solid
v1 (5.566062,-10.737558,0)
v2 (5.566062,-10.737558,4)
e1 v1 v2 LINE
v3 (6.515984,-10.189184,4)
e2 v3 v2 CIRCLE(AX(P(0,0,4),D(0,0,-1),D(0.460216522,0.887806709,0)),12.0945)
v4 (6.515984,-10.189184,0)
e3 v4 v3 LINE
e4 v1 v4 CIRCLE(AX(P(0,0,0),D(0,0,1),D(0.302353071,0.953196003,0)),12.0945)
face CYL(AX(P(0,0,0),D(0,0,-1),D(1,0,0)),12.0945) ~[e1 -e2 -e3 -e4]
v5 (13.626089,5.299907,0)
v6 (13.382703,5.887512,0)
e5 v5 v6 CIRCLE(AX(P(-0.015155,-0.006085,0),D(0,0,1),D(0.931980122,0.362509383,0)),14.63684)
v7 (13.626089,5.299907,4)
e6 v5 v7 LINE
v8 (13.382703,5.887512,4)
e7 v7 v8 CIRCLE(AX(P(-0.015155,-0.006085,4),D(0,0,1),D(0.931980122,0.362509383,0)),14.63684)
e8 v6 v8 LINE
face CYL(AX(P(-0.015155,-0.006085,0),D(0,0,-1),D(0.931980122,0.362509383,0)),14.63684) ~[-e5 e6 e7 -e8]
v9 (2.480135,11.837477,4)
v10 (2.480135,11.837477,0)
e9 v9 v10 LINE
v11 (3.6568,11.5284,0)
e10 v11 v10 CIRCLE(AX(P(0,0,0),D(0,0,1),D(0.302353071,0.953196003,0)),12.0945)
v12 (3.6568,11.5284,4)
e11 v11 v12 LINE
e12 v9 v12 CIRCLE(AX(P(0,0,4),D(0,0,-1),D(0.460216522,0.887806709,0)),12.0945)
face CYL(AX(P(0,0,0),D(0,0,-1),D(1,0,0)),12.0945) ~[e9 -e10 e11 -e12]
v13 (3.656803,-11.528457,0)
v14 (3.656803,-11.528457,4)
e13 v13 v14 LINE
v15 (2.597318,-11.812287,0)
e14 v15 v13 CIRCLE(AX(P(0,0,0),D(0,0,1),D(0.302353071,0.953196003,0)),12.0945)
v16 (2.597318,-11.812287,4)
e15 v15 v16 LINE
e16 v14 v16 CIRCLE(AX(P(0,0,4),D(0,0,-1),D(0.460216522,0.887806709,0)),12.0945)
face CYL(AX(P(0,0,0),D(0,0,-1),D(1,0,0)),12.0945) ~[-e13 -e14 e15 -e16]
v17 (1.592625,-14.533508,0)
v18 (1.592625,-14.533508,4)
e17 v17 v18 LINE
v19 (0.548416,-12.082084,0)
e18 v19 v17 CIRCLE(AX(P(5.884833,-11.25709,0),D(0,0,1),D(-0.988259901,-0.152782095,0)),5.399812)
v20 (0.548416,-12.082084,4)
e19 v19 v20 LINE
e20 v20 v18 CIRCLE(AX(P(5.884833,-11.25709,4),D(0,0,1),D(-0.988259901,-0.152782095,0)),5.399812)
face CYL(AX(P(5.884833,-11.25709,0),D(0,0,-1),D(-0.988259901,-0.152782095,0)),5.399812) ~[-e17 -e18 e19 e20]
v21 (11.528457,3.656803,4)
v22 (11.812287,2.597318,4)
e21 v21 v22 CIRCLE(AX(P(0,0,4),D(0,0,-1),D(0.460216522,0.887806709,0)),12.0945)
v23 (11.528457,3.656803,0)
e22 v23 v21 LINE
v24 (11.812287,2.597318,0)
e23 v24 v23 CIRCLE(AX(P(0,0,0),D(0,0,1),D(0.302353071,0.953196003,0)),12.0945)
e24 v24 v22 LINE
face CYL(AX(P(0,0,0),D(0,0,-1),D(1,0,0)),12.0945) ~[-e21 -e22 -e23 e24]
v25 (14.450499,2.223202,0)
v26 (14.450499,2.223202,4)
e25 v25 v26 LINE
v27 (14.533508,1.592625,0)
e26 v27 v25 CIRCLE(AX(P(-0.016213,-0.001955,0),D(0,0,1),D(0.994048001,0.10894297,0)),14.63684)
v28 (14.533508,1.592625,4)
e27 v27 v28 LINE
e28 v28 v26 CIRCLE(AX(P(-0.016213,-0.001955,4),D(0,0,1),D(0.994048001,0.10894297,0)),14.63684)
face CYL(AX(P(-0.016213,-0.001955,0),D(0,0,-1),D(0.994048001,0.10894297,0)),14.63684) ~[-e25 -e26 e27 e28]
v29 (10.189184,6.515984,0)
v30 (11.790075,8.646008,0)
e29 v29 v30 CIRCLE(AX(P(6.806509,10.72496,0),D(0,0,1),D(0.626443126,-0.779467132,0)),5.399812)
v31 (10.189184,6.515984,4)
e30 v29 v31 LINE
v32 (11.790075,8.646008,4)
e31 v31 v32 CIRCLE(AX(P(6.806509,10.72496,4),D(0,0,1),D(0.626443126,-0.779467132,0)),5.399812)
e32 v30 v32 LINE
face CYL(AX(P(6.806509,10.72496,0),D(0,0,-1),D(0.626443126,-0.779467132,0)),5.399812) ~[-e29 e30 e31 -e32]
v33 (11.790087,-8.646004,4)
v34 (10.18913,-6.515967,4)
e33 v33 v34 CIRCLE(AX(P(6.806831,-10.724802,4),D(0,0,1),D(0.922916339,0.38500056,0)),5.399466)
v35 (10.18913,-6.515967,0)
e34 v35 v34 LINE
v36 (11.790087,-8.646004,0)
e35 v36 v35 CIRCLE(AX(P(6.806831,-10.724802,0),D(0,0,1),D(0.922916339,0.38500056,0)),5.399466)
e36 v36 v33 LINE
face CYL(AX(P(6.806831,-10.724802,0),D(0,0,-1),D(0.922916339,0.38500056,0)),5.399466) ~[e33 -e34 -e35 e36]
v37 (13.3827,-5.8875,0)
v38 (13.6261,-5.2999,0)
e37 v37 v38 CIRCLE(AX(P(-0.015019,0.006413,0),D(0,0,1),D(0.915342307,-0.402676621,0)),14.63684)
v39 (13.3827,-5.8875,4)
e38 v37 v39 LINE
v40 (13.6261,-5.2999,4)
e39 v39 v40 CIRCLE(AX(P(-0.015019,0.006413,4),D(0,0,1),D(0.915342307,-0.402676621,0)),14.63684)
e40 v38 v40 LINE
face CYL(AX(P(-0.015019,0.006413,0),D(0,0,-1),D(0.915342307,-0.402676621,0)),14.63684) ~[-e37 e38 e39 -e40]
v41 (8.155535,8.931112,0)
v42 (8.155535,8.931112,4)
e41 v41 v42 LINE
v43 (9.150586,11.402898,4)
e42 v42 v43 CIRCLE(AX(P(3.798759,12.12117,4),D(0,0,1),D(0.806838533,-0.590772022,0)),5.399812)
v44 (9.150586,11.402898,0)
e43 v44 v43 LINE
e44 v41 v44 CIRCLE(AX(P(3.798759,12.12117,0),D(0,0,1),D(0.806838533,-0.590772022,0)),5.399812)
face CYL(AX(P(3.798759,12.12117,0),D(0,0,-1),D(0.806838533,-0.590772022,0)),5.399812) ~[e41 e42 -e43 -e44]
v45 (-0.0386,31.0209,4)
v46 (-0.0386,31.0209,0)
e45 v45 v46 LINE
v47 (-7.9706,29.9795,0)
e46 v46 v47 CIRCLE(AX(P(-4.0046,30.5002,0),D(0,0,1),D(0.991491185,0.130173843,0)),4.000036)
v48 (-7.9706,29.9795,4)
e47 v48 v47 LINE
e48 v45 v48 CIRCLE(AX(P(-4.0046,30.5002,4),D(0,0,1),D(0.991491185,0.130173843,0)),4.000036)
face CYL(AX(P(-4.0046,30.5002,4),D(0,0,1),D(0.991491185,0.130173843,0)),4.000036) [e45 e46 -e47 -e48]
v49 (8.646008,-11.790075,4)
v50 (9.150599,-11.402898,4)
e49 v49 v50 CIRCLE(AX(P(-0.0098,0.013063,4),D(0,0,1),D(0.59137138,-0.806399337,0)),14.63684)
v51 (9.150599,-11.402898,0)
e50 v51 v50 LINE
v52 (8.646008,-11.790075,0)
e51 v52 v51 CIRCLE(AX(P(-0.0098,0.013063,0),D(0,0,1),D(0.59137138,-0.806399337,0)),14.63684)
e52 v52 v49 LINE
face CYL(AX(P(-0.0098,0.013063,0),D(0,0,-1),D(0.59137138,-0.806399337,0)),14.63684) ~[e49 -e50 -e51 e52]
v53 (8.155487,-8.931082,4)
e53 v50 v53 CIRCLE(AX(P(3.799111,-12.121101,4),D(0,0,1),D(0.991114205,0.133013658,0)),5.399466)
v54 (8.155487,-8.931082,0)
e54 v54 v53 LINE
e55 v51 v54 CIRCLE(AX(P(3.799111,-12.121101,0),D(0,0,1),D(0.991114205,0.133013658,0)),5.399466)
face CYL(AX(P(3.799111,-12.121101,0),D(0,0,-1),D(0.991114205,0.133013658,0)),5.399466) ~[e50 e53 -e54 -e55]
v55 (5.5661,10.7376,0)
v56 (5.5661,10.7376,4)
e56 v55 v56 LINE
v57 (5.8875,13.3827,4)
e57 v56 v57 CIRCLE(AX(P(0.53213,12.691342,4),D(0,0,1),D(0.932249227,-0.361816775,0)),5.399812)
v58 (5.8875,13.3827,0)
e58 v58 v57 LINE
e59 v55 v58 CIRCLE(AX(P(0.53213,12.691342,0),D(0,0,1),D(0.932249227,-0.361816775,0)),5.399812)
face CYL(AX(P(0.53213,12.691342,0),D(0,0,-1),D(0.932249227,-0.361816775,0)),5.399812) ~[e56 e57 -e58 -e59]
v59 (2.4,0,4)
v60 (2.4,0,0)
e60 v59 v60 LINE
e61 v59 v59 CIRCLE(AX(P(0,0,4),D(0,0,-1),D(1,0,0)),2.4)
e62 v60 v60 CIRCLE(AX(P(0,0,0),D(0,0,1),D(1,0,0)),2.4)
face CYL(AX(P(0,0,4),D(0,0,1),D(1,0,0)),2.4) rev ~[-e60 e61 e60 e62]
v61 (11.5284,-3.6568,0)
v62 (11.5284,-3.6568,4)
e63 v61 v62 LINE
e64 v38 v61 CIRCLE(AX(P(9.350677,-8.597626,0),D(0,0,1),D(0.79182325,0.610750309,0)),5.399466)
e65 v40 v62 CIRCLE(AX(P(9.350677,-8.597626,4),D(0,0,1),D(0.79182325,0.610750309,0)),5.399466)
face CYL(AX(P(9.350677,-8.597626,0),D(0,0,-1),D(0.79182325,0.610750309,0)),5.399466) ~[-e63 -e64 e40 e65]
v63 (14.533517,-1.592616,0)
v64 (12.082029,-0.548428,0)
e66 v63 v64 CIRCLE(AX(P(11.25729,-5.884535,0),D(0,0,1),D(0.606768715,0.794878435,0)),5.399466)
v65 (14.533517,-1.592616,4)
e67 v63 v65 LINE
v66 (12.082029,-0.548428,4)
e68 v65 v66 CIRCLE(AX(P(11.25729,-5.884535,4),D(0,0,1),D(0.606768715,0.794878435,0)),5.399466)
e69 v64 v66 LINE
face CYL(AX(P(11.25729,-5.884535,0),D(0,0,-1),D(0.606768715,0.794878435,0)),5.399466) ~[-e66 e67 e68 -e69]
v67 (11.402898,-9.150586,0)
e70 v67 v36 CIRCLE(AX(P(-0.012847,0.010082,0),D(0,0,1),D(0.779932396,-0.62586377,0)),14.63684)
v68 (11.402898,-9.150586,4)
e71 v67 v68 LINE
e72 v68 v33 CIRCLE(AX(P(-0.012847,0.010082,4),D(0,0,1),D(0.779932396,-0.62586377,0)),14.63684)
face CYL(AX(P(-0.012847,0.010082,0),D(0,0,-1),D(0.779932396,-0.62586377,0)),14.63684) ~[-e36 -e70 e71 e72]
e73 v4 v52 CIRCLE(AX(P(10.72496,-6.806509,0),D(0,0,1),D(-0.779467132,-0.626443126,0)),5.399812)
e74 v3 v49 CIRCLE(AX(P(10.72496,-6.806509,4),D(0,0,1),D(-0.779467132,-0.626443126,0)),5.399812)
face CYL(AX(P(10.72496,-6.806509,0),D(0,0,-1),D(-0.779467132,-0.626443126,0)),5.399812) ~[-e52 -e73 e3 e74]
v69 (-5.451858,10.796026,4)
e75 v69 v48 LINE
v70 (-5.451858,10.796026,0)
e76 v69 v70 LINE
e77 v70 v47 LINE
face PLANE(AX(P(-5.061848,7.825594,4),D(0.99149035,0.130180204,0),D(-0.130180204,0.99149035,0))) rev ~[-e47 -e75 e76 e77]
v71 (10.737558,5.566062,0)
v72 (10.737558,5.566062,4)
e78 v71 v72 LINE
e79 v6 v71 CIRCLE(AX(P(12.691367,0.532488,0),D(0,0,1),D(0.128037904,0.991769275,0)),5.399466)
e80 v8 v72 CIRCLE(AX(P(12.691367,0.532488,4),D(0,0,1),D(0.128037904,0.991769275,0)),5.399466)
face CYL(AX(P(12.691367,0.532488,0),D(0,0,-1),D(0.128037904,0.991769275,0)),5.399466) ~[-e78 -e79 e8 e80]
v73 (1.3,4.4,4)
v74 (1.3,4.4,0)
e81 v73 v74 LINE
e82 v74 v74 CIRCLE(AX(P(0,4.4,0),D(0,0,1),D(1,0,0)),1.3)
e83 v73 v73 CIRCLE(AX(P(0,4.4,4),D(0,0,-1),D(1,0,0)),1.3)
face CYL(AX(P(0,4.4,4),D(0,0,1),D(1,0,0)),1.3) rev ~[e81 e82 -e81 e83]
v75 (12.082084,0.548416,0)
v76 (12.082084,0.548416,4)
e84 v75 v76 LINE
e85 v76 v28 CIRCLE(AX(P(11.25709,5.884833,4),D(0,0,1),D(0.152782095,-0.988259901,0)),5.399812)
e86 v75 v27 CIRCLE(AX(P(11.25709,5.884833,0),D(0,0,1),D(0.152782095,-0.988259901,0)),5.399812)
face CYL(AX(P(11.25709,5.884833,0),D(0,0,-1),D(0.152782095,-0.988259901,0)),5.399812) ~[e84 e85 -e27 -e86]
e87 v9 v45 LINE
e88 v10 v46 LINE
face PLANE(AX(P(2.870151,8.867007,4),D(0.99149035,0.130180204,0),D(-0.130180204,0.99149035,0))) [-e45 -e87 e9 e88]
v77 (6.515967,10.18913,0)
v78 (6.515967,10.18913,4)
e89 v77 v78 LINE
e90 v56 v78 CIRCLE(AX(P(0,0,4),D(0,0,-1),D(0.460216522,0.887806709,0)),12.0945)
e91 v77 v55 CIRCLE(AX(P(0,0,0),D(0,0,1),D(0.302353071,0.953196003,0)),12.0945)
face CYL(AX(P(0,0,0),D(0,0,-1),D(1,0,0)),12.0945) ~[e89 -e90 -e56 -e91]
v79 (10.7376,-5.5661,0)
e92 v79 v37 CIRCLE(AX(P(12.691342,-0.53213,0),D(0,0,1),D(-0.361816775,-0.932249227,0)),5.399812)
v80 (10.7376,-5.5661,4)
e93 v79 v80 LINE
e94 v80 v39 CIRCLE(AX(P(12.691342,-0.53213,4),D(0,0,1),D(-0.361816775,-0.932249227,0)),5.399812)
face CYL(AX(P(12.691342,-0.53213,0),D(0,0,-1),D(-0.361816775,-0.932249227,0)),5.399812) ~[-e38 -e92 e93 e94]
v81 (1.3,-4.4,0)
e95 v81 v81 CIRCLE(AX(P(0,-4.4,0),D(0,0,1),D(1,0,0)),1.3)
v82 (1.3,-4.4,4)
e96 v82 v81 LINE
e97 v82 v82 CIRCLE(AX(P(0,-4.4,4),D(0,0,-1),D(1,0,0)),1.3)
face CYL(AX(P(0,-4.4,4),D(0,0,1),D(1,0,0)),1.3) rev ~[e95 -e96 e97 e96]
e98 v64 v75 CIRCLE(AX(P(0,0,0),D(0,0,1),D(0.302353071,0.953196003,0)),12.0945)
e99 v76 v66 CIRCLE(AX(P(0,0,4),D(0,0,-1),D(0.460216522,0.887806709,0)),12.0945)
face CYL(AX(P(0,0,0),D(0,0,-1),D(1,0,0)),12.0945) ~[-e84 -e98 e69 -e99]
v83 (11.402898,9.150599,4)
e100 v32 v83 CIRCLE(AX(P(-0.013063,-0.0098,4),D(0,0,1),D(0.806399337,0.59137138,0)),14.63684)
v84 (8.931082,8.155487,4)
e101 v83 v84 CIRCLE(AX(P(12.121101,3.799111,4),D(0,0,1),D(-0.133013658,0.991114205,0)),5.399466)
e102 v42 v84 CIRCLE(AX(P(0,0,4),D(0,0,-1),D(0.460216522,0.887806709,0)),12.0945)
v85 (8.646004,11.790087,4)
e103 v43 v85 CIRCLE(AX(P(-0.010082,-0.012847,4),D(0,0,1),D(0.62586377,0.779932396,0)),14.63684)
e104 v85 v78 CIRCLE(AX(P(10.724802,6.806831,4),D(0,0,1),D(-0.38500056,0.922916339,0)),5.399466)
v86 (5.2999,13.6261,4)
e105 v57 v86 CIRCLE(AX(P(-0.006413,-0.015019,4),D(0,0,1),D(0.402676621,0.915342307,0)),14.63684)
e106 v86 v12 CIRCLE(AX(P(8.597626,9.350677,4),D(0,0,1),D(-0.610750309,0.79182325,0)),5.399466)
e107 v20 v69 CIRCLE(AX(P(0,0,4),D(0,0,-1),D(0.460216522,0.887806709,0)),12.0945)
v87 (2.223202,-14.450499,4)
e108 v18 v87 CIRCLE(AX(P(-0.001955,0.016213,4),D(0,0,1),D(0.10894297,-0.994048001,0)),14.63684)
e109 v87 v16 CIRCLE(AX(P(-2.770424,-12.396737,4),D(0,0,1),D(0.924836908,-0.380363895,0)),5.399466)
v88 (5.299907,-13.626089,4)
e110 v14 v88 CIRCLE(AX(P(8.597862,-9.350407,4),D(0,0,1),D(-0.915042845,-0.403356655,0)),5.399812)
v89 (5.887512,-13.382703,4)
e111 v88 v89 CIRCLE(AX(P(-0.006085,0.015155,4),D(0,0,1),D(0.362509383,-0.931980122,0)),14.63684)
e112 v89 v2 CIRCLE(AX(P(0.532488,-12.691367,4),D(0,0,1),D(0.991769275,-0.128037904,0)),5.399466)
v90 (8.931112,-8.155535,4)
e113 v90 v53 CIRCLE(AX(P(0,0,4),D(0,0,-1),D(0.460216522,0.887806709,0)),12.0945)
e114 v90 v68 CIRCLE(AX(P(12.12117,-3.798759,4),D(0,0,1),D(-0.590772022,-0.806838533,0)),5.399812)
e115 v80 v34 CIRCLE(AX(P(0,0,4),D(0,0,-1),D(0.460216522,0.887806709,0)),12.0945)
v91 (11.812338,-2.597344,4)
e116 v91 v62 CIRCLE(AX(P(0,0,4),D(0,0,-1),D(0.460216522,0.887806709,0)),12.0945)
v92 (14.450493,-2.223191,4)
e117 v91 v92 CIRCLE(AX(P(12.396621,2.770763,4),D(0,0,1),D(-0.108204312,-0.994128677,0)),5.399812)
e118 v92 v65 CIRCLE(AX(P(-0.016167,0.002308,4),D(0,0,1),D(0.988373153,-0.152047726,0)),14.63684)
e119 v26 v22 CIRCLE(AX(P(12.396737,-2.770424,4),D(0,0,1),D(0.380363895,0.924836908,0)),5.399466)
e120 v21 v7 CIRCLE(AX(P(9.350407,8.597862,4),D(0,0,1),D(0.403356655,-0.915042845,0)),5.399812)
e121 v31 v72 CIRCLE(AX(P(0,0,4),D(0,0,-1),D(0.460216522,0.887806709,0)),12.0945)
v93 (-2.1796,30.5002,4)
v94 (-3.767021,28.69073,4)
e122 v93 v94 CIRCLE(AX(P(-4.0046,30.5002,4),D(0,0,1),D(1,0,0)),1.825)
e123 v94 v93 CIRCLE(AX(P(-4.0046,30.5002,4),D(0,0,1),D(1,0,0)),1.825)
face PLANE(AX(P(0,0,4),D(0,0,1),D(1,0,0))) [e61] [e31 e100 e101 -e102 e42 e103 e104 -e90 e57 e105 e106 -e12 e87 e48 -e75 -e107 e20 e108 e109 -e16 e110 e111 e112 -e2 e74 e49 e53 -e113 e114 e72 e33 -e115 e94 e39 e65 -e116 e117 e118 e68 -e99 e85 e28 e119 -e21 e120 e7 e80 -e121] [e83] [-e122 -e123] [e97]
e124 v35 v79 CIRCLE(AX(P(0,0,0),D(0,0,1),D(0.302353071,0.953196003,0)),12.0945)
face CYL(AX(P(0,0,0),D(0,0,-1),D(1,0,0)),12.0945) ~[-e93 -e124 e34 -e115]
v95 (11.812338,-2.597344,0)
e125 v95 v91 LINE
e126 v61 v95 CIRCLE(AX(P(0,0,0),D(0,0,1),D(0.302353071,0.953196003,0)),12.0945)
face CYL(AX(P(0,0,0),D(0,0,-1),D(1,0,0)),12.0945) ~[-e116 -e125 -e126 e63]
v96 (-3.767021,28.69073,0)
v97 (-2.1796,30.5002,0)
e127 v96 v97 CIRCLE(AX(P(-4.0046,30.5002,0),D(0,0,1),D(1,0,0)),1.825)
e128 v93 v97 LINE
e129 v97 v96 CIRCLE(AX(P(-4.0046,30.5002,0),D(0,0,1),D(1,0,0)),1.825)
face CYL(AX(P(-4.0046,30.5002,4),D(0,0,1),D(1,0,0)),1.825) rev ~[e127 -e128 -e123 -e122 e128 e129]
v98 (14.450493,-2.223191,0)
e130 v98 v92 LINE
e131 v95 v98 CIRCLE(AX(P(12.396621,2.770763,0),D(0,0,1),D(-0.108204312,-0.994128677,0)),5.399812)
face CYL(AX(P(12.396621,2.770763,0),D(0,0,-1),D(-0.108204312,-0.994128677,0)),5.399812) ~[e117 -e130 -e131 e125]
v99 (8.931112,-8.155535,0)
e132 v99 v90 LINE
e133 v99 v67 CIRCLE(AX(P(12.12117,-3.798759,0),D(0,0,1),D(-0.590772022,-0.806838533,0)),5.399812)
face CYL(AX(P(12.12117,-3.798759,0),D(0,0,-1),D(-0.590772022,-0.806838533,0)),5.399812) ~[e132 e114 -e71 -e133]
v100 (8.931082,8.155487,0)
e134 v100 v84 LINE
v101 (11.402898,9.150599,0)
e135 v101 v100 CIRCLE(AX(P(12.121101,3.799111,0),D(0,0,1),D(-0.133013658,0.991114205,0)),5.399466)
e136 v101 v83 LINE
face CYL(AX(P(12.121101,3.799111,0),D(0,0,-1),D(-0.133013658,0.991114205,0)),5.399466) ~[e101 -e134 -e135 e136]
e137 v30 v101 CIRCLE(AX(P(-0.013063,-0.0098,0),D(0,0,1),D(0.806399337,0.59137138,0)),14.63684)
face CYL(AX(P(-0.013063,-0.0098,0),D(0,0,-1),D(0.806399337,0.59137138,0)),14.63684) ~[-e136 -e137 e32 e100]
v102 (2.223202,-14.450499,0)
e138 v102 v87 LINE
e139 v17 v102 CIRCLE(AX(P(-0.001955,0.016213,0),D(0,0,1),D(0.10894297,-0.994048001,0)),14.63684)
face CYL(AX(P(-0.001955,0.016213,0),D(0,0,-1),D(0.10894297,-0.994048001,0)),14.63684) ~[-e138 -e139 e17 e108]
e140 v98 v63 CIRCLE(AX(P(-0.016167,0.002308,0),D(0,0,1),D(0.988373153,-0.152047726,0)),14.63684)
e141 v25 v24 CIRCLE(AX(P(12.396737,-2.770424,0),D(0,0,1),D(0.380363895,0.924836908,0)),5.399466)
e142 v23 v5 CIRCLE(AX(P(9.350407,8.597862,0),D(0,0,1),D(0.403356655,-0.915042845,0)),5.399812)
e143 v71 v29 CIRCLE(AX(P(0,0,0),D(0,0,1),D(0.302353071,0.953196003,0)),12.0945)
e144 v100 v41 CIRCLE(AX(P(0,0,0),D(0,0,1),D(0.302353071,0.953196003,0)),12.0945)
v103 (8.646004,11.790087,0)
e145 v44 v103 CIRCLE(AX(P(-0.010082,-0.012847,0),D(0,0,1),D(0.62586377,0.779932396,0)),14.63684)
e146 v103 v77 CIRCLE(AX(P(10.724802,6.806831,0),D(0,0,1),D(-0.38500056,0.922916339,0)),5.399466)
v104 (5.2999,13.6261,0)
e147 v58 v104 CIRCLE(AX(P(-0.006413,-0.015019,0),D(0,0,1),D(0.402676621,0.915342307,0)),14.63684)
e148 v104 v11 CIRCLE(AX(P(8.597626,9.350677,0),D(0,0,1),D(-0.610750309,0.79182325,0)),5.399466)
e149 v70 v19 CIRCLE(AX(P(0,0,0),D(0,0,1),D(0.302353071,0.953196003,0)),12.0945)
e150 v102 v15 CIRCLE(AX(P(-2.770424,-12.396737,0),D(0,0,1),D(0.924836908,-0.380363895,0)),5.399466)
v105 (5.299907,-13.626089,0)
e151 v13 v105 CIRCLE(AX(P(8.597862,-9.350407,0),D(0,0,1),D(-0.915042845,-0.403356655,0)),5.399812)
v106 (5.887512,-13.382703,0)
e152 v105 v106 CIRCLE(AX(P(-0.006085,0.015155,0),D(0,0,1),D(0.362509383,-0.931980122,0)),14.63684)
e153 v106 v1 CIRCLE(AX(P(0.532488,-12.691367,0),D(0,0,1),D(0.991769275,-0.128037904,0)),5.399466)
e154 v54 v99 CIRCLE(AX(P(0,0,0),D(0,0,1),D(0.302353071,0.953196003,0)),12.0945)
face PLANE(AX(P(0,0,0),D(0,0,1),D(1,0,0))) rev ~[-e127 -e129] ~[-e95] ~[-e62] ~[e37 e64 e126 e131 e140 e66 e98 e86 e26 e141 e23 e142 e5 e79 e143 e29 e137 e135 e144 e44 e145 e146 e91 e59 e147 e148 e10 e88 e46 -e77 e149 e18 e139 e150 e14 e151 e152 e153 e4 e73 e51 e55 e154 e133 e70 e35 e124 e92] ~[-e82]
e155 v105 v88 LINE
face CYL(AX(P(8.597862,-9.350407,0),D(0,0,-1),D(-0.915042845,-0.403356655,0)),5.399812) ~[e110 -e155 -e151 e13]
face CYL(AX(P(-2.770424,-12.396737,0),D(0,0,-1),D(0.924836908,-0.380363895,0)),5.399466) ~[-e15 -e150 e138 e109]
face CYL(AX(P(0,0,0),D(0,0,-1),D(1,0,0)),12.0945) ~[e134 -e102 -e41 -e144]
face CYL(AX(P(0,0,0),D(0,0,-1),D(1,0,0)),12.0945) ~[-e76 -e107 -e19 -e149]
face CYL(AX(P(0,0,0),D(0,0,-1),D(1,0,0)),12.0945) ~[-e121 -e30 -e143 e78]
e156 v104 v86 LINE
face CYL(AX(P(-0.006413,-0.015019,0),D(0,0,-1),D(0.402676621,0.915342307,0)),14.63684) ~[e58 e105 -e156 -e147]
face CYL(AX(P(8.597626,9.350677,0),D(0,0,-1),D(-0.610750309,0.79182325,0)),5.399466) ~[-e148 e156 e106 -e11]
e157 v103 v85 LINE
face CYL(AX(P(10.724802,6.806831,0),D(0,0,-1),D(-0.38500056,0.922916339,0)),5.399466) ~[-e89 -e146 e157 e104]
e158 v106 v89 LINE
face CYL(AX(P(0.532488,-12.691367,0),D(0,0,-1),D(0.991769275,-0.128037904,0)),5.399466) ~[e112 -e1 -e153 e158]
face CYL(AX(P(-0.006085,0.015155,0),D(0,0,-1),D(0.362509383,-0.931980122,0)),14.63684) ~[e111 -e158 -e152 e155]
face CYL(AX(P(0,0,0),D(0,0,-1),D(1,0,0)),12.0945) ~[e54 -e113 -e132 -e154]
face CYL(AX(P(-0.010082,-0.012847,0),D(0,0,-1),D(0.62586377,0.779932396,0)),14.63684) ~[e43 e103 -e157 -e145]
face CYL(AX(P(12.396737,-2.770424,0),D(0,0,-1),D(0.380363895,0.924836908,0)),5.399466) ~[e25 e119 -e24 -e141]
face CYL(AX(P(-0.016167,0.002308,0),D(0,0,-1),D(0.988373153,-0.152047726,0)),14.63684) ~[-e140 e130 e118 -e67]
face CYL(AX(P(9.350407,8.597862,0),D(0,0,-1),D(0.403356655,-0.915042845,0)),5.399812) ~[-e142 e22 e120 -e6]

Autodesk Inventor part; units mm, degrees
ref_plane "YZ Plane" through (0, 0, 0) normal (1, 0, 0) x (0, 1, 0)
ref_plane "XZ Plane" through (0, 0, 0) normal (0, 1, 0) x (-1, 0, 0)
ref_plane "XY Plane" through (0, 0, 0) normal (0, 0, 1) x (1, 0, 0)
sketch "Náčrt1" plane through (0, 0, 0) normal (0, 0, 1) x (1, 0, 0)
  circle A0 centre (0, 0) radius 12.0945
  line L0 (0, 0) -> (0.5842, 13.9377)
  arc A1 (5.5661, 10.7376) -> (5.8875, 13.3827) centre (0.5319, 12.6914) ccw
  arc A2 (8.1555, 8.9311) -> (9.1506, 11.4029) centre (3.7986, 12.1212) ccw
  arc A3 (10.1892, 6.516) -> (11.7901, 8.646) centre (6.8063, 10.7251) ccw
  arc A4 (11.5284, 3.6568) -> (13.6261, 5.2999) centre (9.3503, 8.598) ccw
  arc A5 (12.0821, 0.5484) -> (14.5335, 1.5926) centre (11.257, 5.885) ccw
  arc A6 (11.8123, -2.5973) -> (14.4505, -2.2232) centre (12.3966, 2.771) ccw
  arc A7 (10.7376, -5.5661) -> (13.3827, -5.8875) centre (12.6914, -0.5319) ccw
  arc A8 (8.9311, -8.1555) -> (11.4029, -9.1506) centre (12.1212, -3.7986) ccw
  arc A9 (6.516, -10.1892) -> (8.646, -11.7901) centre (10.7251, -6.8063) ccw
  arc A10 (3.6568, -11.5284) -> (5.2999, -13.6261) centre (8.598, -9.3503) ccw
  arc A11 (0.5484, -12.0821) -> (1.5926, -14.5335) centre (5.885, -11.257) ccw
  line L1 (0, 0) -> (0, 15.3936)
  arc A12 (5.2999, 13.6261) -> (3.6568, 11.5284) centre (8.598, 9.3503) ccw
  arc A13 (8.646, 11.7901) -> (6.516, 10.1892) centre (10.7251, 6.8063) ccw
  arc A14 (11.4029, 9.1506) -> (8.9311, 8.1555) centre (12.1212, 3.7986) ccw
  arc A15 (13.3827, 5.8875) -> (10.7376, 5.5661) centre (12.6914, 0.5319) ccw
  arc A16 (14.4505, 2.2232) -> (11.8123, 2.5973) centre (12.3966, -2.771) ccw
  arc A17 (14.5335, -1.5926) -> (12.0821, -0.5484) centre (11.257, -5.885) ccw
  arc A18 (13.6261, -5.2999) -> (11.5284, -3.6568) centre (9.3503, -8.598) ccw
  arc A19 (11.7901, -8.646) -> (10.1892, -6.516) centre (6.8063, -10.7251) ccw
  arc A20 (9.1506, -11.4029) -> (8.1555, -8.9311) centre (3.7986, -12.1212) ccw
  arc A21 (5.8875, -13.3827) -> (5.5661, -10.7376) centre (0.5319, -12.6914) ccw
  arc A22 (2.2232, -14.4505) -> (2.5973, -11.8123) centre (-2.771, -12.3966) ccw
  arc A23 (5.8875, 13.3827) -> (5.2999, 13.6261) centre (0, 0) ccw
  arc A24 (9.1506, 11.4029) -> (8.646, 11.7901) centre (0, 0) ccw
  arc A25 (11.7901, 8.646) -> (11.4029, 9.1506) centre (0, 0) ccw
  arc A26 (13.6261, 5.2999) -> (13.3827, 5.8875) centre (0, 0) ccw
  arc A27 (14.5335, 1.5926) -> (14.4505, 2.2232) centre (0, 0) ccw
  arc A28 (14.4505, -2.2232) -> (14.5335, -1.5926) centre (0, 0) ccw
  arc A29 (13.3827, -5.8875) -> (13.6261, -5.2999) centre (0, 0) ccw
  arc A30 (11.4029, -9.1506) -> (11.7901, -8.646) centre (0, 0) ccw
  arc A31 (8.646, -11.7901) -> (9.1506, -11.4029) centre (0, 0) ccw
  arc A32 (1.5926, -14.5335) -> (2.2232, -14.4505) centre (0, 0) ccw
  arc A33 (5.2999, -13.6261) -> (5.8875, -13.3827) centre (0, 0) ccw
  dimension "d0" = 24.189
  dimension "d13" = 150
  dimension "d19" = 150
sketch "Náčrt2" plane through (0, 0, 0) normal (0, 0, 1) x (1, 0, 0)
  circle A0 centre (0, 0) radius 12.0945 projected
  circle A1 centre (0, 0) radius 12.0945
extrude "Vysunutí1" add sketch "Náčrt2" along normal blind 4
extrude "Vysunutí2" add sketch "Náčrt1" along normal blind 4 contours A0 A12 A23 A1
pattern_circular "Kruhové pole1" count 11 over 150 about axis through (0, 0, 0) along (0, 0, -1) of "Vysunutí2"
sketch "Náčrt3" plane through (0, 0, 4) normal (0, 0, 1) x (1, 0, 0)
  line L0 (0, 0) -> (-4.0046, 30.5002)
  circle A0 centre (-4.0046, 30.5002) radius 1.825
  arc A1 (-0.0386, 31.0209) -> (-7.9706, 29.9795) centre (-4.0046, 30.5002) ccw
  line L1 (-3.966, -0.5207) -> (-7.9706, 29.9795)
  line L2 (3.966, 0.5207) -> (-0.0386, 31.0209)
  line L3 (-5.0618, 7.8256) -> (2.8701, 8.867)
  dimension "d29" = 30.762
  dimension "d30" = 3.65
  dimension "d31" = 8
  dimension "d32" = 4
  dimension "d33" = 4
extrude "Vysunutí3" add sketch "Náčrt3" against normal blind 4
sketch "Náčrt4" plane through (0, 0, 4) normal (0, 0, 1) x (1, 0, 0)
  circle A0 centre (0, 0) radius 2.4
  line L0 (0, 0) -> (0, -4.4)
  circle A1 centre (0, -4.4) radius 1.3
  line L1 (0, 0) -> (0, 4.4)
  circle A2 centre (0, 4.4) radius 1.3
  dimension "d36" = 4.8
  dimension "d37" = 4.4
  dimension "d38" = 2.6
  dimension "d39" = 4.4
  dimension "d40" = 2.6
extrude "Vysunutí4" cut sketch "Náčrt4" against normal blind 4
properties part number "zubate_kolo2" material "ABS Plastic"
